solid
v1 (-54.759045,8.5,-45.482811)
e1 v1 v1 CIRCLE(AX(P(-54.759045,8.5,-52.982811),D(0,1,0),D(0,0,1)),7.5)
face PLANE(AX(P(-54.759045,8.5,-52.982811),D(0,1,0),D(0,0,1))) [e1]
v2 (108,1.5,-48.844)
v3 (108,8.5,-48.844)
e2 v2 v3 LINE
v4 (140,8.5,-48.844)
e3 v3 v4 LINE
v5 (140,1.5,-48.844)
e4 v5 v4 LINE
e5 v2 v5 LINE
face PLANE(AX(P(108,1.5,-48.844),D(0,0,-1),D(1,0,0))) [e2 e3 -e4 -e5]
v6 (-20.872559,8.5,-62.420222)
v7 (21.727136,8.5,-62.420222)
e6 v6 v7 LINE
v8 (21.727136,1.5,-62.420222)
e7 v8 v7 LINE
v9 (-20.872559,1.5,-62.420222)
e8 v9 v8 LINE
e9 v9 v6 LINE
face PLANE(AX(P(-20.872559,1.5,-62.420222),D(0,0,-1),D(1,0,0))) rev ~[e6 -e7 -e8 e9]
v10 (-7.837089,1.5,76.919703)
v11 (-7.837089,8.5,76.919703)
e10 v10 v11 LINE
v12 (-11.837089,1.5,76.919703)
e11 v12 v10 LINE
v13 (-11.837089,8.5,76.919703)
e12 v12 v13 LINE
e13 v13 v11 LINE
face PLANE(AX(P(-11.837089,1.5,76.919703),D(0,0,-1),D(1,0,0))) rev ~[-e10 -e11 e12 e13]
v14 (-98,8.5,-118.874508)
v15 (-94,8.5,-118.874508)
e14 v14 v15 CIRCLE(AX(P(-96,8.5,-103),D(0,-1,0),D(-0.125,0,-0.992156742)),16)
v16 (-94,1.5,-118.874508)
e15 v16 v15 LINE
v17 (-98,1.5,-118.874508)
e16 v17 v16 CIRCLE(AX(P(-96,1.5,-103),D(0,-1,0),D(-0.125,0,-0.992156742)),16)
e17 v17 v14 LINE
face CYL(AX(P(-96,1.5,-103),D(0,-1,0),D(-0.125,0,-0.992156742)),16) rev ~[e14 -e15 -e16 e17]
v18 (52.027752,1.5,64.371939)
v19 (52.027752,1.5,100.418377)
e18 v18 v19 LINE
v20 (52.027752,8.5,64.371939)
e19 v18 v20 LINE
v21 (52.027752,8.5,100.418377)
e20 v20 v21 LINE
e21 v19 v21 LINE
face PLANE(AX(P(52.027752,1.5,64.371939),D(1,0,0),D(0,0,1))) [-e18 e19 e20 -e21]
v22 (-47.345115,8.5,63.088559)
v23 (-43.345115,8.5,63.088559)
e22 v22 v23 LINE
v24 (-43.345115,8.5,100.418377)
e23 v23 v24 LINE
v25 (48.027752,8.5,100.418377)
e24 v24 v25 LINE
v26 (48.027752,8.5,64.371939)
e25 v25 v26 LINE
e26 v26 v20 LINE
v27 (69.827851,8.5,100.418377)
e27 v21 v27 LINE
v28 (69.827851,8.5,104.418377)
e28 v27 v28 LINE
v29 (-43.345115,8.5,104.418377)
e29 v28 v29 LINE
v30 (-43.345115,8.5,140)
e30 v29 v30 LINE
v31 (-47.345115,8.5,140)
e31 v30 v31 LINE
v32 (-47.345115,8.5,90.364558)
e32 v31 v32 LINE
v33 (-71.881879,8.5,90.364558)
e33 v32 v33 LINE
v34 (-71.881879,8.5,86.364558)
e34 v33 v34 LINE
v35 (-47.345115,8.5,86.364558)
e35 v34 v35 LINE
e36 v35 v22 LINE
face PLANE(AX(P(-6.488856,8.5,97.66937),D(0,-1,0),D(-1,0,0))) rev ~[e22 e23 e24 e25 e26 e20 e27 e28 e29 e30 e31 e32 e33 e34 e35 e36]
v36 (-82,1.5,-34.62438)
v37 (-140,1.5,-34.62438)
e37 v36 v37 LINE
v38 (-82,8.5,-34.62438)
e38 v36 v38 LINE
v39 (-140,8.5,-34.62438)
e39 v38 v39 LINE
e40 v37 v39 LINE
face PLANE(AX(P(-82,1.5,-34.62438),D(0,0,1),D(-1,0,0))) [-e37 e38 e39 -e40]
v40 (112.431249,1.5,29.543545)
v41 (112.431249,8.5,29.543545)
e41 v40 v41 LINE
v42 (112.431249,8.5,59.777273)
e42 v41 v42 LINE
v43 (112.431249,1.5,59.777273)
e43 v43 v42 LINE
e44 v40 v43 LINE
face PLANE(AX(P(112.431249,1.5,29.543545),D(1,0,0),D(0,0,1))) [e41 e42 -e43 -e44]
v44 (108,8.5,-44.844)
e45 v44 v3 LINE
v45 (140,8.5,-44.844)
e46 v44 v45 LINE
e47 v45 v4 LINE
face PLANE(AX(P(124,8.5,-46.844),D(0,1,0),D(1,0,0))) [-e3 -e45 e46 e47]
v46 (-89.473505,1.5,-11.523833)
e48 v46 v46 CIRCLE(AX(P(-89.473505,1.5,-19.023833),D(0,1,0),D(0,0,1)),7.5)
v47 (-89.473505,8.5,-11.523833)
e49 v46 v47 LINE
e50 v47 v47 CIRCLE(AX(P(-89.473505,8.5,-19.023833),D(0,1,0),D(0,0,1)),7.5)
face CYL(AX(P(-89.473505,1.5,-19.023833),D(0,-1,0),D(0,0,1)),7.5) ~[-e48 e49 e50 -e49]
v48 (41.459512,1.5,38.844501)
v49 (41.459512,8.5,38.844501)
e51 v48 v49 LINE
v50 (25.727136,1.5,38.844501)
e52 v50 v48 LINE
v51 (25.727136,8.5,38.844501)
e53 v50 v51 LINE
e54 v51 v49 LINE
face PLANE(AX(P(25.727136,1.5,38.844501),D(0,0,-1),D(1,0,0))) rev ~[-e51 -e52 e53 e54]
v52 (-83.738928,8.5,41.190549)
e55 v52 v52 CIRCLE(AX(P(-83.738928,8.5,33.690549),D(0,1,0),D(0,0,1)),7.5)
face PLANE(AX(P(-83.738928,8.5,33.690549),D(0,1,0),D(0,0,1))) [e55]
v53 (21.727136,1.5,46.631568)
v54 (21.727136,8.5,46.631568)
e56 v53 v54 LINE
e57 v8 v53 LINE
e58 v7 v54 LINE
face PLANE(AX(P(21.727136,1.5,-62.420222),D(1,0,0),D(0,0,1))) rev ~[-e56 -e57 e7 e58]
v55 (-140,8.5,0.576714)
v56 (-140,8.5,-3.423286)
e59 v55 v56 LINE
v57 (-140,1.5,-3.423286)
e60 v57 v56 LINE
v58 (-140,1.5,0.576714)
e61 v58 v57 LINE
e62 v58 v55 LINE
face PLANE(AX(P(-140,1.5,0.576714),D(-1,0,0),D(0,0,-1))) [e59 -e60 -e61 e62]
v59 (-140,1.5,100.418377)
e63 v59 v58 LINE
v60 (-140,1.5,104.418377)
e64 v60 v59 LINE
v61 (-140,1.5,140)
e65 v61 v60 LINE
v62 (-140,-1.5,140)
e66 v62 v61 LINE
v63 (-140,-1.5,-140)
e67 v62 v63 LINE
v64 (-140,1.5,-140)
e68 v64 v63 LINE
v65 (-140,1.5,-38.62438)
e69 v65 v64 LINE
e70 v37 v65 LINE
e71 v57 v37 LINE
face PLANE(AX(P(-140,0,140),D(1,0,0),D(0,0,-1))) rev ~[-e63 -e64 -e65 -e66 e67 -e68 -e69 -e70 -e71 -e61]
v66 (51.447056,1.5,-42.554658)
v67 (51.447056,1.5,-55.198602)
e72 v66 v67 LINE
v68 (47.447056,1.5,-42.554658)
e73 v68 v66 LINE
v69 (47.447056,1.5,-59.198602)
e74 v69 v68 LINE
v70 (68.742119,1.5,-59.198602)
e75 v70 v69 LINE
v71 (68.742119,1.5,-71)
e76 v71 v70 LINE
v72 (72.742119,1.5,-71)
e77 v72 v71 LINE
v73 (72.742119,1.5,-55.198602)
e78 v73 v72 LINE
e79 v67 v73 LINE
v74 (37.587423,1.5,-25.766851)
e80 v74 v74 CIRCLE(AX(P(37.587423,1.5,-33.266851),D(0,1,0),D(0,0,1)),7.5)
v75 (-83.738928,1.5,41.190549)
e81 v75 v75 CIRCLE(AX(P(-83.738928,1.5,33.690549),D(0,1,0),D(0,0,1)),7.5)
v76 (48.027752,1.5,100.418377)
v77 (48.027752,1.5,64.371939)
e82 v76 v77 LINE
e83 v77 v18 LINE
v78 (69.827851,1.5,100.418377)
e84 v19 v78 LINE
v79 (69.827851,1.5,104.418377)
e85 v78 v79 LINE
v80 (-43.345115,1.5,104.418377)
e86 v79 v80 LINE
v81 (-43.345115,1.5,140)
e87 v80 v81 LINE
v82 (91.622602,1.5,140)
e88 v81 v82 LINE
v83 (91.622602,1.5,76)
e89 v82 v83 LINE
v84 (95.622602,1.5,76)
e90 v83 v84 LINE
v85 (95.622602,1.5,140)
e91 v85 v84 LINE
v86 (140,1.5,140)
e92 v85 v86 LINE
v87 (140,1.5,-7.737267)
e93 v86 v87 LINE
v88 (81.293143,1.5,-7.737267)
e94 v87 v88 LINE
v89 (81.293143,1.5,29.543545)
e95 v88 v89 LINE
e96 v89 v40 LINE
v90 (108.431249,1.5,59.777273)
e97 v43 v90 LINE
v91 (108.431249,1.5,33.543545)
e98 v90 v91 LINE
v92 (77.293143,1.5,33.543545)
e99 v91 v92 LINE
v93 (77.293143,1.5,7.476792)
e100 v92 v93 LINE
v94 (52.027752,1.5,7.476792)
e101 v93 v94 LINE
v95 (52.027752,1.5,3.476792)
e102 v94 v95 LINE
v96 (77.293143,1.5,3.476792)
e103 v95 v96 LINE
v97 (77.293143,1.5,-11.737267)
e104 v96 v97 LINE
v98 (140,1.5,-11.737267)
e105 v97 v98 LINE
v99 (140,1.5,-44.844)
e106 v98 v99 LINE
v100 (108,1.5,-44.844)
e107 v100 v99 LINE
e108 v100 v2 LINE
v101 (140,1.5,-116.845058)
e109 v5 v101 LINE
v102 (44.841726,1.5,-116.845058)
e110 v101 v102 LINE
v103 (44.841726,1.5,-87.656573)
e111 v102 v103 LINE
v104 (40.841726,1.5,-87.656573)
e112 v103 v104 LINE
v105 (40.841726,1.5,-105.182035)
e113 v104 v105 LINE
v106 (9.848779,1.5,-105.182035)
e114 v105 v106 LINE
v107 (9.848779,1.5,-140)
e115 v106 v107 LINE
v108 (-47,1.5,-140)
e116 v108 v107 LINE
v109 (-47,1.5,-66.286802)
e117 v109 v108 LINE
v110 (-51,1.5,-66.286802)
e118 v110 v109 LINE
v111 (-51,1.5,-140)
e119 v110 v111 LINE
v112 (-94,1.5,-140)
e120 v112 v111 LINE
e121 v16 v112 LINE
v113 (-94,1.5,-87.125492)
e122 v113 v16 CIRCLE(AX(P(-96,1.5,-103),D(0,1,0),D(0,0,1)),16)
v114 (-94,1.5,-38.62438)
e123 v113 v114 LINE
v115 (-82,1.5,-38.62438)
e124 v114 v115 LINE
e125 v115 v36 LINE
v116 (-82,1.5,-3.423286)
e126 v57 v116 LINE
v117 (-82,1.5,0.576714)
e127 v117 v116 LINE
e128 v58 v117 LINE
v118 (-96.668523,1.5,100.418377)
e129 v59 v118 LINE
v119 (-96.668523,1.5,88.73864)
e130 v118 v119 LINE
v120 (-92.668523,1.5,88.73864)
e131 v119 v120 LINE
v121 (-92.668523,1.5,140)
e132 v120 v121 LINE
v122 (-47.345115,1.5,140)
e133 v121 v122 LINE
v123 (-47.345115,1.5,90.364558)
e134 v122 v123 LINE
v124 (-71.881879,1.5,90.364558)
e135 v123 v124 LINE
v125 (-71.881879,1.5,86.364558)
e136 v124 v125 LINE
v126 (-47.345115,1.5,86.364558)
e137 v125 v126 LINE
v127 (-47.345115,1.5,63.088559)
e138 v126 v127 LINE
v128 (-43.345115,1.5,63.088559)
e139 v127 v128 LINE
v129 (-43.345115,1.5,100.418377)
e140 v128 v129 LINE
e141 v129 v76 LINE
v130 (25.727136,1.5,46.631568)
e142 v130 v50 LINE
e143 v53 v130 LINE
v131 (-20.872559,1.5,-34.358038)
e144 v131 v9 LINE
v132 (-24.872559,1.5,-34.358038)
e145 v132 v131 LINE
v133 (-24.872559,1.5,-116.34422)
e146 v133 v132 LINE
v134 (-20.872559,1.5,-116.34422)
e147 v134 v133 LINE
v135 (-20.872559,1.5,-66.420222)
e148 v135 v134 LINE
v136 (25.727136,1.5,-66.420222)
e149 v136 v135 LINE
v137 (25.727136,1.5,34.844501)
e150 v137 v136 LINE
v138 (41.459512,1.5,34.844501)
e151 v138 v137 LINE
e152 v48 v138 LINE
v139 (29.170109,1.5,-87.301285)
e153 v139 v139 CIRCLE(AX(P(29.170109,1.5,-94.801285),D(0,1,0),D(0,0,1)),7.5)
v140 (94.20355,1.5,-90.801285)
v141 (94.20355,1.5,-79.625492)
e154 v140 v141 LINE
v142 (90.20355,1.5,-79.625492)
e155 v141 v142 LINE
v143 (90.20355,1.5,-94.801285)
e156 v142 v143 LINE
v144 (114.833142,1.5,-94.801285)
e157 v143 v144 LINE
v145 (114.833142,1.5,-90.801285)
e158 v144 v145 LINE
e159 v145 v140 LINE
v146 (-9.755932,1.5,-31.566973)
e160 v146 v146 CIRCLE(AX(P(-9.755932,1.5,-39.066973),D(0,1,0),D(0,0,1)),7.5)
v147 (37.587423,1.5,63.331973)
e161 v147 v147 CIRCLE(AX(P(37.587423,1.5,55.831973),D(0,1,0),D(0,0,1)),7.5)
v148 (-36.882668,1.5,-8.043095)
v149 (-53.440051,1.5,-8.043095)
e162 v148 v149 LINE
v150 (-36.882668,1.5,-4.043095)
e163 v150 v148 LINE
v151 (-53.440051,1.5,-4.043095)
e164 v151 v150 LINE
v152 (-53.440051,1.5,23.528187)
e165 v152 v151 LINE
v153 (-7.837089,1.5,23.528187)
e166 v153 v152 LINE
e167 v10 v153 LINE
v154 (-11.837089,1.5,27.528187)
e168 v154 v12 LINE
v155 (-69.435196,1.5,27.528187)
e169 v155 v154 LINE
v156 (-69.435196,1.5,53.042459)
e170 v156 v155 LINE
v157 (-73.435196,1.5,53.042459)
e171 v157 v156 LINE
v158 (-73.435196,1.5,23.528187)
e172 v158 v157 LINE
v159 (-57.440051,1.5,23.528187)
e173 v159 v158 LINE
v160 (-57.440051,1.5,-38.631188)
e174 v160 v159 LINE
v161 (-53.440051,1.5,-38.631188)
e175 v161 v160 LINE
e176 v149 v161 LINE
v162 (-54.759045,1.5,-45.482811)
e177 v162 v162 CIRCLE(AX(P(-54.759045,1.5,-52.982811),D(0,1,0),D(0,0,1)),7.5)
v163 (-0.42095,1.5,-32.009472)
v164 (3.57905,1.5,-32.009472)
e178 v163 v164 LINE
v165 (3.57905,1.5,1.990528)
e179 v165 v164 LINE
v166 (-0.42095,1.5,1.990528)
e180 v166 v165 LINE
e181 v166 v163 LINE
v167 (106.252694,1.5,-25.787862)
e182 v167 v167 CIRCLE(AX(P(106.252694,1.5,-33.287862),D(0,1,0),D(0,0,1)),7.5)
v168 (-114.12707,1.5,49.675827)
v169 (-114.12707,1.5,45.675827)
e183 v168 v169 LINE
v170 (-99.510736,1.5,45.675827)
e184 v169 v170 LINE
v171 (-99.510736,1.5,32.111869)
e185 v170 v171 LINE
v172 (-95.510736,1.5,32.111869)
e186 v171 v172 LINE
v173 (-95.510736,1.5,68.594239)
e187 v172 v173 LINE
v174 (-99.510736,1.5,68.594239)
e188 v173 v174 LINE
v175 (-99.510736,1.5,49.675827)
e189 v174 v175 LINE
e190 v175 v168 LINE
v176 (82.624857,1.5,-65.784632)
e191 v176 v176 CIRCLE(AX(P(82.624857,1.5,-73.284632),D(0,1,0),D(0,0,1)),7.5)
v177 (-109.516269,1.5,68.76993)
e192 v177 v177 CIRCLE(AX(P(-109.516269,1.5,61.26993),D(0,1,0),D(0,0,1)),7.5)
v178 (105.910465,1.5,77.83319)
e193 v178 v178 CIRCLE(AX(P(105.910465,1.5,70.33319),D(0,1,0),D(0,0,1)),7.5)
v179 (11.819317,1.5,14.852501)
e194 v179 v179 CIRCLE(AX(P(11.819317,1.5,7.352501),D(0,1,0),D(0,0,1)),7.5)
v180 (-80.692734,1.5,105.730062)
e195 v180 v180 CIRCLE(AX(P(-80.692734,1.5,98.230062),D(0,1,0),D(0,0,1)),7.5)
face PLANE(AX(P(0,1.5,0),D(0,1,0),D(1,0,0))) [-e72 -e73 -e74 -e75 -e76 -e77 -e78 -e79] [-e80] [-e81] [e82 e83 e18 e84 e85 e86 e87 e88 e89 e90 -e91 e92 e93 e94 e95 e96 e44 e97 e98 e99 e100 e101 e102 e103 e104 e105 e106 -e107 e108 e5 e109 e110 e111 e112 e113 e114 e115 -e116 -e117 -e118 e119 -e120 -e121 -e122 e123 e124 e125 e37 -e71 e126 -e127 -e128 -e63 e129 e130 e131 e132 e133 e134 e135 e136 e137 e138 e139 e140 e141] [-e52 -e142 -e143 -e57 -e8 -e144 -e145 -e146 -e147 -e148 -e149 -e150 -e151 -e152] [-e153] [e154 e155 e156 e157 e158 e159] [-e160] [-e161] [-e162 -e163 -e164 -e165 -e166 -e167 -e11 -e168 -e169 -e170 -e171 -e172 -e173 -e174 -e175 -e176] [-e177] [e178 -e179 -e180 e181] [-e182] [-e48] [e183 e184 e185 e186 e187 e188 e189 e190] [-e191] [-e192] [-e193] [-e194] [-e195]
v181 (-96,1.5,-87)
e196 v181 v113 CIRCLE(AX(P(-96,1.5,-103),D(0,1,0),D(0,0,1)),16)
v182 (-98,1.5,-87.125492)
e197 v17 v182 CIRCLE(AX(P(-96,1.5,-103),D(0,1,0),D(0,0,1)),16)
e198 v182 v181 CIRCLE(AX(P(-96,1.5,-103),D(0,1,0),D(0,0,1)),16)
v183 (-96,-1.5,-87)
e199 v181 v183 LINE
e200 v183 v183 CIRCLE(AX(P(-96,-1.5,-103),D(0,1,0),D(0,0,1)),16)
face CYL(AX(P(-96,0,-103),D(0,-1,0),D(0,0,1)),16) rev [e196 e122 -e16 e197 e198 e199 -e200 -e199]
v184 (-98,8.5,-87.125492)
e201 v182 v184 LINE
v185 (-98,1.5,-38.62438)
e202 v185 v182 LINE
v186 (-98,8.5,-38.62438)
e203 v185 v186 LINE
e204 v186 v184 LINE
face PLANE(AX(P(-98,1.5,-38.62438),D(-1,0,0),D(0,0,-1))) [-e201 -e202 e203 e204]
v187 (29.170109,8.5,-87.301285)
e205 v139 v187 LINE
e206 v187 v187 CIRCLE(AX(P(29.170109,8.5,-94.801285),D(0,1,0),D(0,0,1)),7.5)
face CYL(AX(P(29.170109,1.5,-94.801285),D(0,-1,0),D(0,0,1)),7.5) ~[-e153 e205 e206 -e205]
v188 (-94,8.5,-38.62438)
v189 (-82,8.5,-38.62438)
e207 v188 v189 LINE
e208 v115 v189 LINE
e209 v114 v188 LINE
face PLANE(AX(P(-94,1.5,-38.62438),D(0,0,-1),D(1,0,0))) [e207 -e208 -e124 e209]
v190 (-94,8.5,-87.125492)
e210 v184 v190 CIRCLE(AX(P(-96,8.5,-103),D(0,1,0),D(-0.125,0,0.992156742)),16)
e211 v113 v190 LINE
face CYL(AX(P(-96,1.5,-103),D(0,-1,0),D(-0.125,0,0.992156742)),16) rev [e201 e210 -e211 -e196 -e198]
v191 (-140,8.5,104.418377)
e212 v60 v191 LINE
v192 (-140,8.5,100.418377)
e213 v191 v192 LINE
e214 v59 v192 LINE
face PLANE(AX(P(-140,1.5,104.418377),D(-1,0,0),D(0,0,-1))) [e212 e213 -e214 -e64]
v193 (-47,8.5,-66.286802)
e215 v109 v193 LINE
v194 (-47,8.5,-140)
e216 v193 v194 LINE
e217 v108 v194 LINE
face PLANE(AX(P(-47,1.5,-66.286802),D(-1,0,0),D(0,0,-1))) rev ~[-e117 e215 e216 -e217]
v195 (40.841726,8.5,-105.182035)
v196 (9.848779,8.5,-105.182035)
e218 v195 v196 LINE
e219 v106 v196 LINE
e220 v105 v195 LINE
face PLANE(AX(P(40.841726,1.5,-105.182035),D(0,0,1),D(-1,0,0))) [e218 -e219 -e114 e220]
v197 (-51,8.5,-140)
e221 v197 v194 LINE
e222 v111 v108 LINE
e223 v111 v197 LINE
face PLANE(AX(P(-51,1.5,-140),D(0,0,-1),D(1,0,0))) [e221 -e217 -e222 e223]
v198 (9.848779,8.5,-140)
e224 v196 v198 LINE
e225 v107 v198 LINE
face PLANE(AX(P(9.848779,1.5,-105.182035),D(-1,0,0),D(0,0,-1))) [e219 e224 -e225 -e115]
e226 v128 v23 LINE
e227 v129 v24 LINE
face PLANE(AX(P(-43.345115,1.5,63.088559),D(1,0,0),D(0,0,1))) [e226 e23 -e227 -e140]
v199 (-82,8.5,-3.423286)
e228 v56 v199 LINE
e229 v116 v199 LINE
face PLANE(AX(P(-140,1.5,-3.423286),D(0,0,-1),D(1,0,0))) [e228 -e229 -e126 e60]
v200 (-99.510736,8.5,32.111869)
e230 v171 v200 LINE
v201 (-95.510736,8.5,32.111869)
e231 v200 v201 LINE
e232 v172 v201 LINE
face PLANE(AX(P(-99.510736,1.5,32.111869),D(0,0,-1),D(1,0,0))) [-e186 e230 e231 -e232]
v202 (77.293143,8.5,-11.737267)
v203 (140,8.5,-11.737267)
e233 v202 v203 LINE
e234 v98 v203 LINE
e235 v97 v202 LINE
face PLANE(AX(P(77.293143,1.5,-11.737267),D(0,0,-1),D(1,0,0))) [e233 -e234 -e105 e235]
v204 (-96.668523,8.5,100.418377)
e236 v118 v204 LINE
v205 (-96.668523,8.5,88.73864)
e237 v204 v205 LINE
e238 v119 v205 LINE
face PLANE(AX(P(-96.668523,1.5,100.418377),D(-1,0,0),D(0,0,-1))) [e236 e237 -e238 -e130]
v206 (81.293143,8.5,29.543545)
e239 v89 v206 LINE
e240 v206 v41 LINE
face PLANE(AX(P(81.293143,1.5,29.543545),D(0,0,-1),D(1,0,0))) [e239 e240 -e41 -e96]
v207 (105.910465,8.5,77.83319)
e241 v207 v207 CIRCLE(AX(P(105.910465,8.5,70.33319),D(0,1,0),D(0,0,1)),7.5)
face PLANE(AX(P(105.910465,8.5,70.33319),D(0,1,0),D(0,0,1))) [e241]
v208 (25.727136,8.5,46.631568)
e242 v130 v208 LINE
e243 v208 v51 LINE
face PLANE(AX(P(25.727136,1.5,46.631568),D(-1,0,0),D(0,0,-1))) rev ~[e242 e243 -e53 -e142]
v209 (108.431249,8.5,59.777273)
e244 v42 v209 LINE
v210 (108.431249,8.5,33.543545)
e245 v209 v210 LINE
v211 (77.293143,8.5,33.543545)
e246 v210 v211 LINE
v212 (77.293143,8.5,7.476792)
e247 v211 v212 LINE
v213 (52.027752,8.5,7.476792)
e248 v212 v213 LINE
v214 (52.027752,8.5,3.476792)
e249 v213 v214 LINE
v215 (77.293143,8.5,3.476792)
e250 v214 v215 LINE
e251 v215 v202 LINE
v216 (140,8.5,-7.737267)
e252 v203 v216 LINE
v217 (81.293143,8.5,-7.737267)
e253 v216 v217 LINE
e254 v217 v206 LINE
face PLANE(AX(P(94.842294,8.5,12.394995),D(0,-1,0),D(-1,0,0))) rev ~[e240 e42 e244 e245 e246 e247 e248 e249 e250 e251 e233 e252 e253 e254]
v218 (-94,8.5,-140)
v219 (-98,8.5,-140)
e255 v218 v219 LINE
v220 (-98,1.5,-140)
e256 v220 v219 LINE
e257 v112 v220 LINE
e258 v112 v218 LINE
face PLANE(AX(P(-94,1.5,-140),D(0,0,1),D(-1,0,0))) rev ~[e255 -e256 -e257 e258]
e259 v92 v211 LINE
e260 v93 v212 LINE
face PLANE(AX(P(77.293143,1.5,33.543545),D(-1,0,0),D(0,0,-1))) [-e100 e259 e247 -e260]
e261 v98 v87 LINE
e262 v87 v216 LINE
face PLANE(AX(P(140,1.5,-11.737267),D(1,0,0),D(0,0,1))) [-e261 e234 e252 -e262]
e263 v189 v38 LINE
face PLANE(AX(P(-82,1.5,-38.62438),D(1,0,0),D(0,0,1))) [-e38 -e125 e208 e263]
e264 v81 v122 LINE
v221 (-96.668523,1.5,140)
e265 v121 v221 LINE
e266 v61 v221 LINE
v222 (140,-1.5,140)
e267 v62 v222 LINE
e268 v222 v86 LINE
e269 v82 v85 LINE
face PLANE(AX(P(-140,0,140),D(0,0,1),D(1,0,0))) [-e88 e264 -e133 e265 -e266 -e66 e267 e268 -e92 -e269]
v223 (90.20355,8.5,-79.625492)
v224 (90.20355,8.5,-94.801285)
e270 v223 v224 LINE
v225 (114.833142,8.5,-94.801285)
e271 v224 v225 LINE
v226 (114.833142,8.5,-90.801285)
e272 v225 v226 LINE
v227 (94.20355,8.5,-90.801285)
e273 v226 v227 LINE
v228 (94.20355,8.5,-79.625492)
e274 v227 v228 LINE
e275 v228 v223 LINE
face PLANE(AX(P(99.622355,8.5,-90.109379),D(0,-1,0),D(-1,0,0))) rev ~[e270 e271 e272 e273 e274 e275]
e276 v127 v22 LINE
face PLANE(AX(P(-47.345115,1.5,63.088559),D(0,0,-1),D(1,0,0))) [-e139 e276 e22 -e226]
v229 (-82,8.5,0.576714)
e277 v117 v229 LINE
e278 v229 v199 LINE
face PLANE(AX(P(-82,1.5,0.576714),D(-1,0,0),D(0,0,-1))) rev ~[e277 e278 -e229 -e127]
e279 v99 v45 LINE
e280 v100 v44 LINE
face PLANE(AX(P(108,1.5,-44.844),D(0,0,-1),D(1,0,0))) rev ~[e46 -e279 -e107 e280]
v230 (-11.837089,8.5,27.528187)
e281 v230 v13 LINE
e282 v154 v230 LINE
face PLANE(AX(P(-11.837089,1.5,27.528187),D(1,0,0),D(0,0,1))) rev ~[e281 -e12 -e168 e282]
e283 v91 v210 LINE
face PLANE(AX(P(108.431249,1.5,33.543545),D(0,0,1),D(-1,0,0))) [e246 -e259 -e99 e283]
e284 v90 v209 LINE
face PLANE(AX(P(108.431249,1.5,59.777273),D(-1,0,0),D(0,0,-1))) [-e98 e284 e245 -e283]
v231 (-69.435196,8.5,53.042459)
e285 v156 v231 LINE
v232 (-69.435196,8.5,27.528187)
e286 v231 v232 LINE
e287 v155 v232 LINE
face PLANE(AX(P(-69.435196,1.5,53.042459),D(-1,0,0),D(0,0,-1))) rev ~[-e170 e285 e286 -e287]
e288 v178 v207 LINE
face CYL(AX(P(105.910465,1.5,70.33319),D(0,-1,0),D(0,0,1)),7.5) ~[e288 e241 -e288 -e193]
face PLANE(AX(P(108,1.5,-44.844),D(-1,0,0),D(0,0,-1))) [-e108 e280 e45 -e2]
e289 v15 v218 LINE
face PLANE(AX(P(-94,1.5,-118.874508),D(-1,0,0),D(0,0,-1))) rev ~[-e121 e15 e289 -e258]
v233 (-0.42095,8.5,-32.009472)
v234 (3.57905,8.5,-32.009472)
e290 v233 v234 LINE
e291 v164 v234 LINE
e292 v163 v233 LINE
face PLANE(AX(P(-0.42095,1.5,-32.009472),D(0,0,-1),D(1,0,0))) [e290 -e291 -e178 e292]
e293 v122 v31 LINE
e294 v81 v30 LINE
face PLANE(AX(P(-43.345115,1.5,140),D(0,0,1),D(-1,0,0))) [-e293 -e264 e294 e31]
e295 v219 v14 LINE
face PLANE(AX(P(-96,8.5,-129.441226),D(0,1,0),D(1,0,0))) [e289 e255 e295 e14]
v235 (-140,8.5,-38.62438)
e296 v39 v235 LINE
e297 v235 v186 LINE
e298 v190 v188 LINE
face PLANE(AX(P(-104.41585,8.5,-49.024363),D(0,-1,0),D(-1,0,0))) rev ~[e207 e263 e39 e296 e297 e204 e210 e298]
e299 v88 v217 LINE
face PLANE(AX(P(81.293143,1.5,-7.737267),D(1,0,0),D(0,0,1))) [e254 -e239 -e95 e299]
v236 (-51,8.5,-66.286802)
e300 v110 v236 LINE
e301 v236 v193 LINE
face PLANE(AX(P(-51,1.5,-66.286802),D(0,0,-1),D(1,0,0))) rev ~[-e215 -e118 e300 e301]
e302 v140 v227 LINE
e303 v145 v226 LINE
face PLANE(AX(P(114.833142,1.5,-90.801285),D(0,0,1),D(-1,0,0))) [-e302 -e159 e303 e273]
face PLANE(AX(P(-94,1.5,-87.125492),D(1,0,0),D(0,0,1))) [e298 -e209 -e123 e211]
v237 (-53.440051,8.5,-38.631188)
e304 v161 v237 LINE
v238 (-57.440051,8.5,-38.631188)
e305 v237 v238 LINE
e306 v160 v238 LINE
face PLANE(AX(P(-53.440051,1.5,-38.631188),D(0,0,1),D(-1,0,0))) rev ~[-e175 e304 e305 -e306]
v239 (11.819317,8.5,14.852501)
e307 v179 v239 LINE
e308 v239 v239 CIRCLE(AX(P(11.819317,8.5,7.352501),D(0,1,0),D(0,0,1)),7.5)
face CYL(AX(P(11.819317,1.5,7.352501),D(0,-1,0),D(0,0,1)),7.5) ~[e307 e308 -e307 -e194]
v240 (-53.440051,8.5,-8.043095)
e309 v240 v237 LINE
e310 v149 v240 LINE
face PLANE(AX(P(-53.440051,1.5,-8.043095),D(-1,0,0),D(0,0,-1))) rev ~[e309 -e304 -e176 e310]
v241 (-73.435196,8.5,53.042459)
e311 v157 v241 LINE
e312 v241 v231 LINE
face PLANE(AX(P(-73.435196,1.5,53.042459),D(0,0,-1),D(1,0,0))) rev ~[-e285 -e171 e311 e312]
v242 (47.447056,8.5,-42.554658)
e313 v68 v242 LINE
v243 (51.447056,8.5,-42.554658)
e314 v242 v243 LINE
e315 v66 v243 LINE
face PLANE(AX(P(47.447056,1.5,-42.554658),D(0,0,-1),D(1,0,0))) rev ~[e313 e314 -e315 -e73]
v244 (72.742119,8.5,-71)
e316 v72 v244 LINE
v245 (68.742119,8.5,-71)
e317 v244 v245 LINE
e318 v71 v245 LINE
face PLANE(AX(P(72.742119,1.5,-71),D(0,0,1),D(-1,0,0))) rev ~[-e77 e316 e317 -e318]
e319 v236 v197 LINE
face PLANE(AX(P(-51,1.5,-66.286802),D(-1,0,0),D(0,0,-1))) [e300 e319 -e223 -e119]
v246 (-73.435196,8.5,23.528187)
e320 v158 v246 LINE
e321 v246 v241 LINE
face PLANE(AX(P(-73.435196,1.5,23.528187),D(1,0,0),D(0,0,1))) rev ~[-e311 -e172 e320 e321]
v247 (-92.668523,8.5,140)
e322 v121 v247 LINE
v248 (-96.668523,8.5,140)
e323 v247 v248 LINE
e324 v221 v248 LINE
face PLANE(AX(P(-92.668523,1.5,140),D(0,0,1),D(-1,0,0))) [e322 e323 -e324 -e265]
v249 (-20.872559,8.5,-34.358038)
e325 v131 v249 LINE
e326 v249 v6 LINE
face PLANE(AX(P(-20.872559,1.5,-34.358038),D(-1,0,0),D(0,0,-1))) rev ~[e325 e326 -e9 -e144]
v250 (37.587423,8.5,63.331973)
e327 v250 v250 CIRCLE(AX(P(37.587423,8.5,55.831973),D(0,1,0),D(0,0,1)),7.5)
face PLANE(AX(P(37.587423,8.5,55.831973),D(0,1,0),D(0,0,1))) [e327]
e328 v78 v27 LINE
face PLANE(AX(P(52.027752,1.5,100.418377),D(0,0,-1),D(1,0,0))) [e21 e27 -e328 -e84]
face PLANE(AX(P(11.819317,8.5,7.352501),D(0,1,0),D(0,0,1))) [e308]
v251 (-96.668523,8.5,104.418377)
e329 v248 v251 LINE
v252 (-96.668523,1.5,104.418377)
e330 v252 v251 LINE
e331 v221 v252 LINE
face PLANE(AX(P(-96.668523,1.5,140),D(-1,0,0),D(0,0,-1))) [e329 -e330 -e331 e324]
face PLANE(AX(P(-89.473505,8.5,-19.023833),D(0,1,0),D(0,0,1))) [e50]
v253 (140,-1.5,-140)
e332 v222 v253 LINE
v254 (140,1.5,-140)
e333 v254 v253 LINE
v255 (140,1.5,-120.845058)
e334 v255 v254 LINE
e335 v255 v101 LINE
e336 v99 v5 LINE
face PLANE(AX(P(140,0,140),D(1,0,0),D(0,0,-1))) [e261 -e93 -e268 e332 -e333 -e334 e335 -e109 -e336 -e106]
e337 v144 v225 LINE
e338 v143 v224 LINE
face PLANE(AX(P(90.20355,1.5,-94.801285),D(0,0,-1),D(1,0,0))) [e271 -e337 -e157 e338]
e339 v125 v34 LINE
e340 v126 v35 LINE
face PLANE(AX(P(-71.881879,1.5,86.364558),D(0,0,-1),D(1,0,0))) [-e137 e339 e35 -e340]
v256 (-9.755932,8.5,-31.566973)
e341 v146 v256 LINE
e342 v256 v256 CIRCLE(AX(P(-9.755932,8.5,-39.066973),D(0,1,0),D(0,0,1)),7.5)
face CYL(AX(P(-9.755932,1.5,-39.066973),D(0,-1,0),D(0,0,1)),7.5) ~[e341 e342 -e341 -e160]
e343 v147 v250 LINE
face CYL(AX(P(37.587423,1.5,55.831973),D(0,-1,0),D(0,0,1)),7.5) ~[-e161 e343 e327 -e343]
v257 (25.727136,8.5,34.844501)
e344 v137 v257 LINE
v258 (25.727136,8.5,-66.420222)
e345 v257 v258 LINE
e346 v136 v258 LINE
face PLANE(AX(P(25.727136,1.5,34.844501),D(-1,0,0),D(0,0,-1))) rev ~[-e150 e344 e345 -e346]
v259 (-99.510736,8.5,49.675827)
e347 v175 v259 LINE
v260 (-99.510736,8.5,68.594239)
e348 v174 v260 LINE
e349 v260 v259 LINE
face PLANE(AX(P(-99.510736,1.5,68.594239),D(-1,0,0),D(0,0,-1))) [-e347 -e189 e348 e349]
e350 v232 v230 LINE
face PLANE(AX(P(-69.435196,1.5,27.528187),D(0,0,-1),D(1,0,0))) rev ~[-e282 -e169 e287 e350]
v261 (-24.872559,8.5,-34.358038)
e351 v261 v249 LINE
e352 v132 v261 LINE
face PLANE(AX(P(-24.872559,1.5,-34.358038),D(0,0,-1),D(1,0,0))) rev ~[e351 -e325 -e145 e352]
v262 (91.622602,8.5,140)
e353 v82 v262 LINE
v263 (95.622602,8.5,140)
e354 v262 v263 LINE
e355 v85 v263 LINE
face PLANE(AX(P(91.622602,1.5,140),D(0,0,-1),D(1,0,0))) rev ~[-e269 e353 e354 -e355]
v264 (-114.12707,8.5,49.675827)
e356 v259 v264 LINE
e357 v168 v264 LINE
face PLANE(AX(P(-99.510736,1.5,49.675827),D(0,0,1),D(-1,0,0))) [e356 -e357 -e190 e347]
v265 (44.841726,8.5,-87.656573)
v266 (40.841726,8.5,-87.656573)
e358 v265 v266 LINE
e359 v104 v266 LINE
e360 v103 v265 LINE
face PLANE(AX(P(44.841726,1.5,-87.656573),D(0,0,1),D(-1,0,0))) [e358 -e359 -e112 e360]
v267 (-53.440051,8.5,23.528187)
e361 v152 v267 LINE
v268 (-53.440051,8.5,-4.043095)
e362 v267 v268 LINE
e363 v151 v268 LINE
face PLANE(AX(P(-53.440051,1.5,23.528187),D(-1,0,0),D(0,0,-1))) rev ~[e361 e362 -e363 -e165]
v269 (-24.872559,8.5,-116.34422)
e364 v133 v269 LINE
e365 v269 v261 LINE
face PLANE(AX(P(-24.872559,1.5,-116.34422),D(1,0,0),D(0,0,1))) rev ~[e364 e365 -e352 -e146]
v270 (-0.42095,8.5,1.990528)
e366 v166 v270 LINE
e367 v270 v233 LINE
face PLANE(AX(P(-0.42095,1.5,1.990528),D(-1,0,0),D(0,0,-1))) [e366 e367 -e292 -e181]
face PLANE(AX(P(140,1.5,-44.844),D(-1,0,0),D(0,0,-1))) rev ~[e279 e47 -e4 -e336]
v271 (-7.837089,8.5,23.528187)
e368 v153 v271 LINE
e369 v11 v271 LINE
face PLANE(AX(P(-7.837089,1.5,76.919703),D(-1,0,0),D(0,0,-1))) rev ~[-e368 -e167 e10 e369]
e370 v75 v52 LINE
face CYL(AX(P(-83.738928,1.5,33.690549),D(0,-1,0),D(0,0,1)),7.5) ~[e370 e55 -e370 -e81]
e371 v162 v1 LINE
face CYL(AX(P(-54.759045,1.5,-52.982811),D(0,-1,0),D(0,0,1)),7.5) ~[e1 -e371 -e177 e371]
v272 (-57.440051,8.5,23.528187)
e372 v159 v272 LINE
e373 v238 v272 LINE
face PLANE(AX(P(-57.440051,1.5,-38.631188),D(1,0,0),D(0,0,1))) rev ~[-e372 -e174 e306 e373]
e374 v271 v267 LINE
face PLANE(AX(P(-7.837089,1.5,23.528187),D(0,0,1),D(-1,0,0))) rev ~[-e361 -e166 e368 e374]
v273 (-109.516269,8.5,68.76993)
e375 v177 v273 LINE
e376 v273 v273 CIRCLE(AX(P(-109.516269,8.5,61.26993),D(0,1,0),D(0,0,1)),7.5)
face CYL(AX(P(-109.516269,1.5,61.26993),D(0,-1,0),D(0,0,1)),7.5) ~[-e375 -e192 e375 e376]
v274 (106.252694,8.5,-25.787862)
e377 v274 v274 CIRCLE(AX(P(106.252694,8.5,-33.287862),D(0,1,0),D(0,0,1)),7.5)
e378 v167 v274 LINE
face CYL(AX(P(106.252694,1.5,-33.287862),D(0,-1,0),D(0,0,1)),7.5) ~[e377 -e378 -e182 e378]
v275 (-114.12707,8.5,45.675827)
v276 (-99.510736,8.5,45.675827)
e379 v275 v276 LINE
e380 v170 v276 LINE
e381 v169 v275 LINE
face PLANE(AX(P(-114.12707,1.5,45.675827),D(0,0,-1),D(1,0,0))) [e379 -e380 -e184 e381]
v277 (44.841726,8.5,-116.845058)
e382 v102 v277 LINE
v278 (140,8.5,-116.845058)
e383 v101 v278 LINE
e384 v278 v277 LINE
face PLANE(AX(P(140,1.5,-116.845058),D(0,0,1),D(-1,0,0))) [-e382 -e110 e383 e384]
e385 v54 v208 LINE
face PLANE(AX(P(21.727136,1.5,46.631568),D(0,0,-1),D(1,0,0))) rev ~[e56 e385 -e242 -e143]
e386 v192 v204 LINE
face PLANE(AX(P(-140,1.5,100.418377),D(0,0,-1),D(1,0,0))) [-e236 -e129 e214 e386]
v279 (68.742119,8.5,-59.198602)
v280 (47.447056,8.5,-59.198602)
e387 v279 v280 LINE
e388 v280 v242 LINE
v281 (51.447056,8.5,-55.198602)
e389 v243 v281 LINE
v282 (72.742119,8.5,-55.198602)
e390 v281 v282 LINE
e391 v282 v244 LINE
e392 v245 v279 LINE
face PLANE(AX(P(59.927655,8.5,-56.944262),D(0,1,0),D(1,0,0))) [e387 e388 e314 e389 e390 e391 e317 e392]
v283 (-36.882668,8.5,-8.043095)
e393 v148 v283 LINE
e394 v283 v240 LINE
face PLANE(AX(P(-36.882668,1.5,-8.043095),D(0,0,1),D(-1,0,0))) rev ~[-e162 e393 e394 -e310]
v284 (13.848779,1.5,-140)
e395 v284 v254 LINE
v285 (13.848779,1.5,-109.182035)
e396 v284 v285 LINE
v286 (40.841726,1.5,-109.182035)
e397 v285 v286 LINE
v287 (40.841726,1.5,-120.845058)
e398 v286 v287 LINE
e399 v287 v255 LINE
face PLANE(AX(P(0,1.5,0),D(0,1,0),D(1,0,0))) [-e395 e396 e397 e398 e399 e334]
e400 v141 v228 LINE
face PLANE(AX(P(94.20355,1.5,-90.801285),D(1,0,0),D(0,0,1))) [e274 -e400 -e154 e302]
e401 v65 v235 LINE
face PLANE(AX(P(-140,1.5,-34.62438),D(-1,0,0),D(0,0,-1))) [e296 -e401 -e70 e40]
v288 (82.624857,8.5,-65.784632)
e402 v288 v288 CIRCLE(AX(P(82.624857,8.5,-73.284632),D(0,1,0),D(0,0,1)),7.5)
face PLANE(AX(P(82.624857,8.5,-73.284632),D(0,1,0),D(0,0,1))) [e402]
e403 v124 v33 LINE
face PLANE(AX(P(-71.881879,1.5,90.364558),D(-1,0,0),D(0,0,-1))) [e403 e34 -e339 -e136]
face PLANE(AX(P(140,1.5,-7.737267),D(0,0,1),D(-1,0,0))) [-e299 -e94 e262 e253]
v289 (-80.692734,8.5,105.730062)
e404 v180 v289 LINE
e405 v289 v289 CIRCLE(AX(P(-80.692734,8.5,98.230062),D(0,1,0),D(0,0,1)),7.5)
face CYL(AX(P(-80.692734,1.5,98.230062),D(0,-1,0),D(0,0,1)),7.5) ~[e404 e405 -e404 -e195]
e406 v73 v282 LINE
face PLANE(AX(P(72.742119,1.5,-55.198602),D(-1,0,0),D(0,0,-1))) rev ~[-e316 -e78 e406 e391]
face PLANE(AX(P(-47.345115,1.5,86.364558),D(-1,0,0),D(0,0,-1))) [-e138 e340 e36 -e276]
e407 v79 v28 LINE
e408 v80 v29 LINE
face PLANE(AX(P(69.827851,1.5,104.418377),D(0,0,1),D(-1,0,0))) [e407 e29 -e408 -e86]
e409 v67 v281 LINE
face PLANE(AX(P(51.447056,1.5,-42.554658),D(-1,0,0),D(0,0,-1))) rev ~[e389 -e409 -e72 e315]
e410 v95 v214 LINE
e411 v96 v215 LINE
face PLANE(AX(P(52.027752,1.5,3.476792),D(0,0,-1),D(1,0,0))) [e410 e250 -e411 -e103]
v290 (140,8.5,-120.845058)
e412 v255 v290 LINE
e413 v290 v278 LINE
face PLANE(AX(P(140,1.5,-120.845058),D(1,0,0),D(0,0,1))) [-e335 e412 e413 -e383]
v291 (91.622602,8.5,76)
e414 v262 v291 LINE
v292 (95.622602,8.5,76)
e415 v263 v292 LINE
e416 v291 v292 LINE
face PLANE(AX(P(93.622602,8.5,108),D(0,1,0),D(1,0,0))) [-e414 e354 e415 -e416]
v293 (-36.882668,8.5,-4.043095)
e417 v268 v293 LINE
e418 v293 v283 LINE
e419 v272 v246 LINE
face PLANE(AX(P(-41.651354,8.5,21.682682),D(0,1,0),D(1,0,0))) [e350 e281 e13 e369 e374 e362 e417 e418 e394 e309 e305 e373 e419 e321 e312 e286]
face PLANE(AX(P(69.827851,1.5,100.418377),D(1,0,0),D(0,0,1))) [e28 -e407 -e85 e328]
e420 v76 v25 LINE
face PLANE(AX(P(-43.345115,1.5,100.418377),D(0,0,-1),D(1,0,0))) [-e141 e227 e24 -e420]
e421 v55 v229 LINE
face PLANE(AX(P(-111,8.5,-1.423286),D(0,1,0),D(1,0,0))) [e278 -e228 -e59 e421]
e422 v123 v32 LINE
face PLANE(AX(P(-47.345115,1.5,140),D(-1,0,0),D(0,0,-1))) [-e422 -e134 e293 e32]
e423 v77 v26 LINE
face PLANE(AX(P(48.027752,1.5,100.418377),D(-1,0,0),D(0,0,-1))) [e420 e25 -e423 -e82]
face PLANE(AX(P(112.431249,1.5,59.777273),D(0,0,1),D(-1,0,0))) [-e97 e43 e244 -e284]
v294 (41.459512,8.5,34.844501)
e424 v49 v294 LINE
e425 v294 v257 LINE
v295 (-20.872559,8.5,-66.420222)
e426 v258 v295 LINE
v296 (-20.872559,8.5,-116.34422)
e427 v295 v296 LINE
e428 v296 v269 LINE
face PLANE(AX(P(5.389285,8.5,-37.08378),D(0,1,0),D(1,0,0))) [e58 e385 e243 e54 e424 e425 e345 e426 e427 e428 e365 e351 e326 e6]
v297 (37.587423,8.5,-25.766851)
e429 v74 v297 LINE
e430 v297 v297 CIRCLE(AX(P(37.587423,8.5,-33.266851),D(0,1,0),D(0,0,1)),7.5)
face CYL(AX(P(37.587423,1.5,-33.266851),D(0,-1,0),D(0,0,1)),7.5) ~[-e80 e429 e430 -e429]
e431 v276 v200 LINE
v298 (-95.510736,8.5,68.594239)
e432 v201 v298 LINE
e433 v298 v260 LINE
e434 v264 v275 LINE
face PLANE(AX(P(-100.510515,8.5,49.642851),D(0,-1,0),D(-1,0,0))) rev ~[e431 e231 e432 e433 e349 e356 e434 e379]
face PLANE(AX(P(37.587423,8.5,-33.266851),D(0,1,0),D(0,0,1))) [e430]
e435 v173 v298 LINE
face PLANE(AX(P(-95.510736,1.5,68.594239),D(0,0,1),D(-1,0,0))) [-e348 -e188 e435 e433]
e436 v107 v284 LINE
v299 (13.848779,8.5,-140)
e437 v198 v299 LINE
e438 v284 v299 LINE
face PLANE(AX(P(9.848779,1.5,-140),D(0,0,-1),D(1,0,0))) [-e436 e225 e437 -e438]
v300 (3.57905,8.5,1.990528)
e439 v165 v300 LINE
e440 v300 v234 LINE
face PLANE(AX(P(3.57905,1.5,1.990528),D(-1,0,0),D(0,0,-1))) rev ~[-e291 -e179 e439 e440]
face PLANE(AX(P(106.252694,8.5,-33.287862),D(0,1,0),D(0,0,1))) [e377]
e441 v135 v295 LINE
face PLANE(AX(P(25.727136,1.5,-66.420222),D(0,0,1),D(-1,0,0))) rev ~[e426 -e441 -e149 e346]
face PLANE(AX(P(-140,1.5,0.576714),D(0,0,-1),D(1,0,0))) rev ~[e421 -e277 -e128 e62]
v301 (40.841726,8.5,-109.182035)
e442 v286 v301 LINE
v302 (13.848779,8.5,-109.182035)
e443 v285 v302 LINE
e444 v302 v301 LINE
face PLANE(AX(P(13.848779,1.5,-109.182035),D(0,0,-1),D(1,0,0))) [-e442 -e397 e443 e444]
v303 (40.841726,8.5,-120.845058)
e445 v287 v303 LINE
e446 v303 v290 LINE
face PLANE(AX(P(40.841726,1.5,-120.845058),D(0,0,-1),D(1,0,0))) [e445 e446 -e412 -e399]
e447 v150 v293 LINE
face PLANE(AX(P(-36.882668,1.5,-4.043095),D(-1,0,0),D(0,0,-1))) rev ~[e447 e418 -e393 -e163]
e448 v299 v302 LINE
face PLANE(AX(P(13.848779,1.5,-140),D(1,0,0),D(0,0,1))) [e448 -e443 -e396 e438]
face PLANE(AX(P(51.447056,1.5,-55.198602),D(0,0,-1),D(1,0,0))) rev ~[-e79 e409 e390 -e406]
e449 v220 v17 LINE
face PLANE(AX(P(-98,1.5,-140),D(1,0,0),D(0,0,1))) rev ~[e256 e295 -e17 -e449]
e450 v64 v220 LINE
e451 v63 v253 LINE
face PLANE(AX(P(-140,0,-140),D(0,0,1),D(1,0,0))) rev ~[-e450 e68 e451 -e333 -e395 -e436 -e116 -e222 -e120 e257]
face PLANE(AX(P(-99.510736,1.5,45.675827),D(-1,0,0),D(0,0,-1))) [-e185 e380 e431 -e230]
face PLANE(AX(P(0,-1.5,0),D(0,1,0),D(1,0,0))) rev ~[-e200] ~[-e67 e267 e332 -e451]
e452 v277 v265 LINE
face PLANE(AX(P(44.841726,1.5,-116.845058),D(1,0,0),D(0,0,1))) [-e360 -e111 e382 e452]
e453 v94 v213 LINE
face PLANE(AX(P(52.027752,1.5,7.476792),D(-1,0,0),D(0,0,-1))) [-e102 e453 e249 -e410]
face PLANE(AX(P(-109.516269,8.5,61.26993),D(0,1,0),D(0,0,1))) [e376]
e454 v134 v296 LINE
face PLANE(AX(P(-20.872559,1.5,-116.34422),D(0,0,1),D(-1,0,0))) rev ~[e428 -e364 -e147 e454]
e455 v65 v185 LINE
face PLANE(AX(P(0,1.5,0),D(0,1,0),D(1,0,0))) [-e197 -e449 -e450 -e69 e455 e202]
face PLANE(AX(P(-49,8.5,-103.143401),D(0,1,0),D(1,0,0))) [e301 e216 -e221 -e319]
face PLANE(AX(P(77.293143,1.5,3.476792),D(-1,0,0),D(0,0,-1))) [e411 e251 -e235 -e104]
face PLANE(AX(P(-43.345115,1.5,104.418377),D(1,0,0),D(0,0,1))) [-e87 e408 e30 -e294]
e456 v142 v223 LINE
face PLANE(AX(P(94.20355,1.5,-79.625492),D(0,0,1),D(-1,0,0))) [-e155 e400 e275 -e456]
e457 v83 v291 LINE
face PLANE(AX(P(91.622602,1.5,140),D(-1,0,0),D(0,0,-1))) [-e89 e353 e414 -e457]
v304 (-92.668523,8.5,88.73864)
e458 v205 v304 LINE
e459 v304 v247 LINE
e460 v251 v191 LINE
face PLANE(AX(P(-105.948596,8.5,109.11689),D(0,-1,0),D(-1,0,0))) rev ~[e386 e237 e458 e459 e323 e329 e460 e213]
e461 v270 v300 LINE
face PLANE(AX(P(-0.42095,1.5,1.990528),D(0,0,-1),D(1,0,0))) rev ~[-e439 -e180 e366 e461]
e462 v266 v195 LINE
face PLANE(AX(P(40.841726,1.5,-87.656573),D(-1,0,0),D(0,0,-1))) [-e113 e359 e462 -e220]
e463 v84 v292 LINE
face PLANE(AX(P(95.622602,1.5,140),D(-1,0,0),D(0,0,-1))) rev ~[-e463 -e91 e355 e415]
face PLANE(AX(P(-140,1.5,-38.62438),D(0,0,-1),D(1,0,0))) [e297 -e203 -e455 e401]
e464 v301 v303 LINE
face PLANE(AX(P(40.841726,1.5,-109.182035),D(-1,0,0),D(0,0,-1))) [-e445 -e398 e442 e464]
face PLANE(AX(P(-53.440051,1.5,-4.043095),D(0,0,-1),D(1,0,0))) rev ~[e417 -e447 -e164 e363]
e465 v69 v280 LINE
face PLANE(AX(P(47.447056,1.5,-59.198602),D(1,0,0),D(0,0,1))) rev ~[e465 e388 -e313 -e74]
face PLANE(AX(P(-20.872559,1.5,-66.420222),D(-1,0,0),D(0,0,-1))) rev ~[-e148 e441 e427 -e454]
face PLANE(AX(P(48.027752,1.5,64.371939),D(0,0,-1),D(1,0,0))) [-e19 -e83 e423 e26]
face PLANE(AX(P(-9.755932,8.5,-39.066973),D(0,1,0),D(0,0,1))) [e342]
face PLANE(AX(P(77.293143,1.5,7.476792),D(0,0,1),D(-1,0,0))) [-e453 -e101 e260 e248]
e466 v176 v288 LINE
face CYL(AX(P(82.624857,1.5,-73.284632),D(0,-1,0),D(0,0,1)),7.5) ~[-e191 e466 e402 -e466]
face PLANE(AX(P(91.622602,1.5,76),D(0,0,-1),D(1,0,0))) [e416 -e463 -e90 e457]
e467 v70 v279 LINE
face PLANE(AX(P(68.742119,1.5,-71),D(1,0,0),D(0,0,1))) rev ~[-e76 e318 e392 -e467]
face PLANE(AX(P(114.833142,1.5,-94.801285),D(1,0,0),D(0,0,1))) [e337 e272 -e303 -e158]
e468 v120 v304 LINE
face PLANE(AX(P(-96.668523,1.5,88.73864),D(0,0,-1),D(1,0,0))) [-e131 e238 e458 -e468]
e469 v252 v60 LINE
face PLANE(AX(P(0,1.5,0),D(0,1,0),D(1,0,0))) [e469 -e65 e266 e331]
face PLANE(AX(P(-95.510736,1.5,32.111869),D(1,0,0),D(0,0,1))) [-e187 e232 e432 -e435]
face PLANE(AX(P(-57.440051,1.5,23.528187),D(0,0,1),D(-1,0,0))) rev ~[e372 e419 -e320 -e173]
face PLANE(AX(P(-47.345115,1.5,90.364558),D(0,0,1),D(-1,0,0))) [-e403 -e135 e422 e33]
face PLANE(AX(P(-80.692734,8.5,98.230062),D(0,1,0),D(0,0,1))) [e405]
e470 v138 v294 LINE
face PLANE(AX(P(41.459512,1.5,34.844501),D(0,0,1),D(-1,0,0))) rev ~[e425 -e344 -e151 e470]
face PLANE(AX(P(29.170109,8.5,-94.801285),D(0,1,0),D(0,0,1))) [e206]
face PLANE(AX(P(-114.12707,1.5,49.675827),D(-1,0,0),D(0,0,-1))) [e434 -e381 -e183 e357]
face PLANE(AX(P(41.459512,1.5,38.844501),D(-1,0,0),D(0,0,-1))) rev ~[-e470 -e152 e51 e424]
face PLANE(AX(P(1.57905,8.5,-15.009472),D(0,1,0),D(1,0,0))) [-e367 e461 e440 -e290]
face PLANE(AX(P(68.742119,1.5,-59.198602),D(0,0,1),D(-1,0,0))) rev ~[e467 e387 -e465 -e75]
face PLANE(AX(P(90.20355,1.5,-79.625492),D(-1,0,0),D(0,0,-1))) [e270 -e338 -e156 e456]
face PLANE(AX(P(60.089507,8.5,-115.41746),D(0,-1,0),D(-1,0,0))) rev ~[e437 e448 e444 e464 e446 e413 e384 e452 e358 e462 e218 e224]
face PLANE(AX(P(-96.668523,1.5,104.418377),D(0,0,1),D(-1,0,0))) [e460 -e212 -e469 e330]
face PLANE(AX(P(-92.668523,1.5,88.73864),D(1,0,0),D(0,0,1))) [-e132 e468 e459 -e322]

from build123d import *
from build123d.topology import SkipClean

# Parameters (mm, degrees)
SKETCH1_W           = 280
SKETCH1_H           = 280
SKETCH1_R           = 16
BOSS_EXTRUDE1_DEPTH = 1.5
SKETCH2_R           = 7.5
SKETCH2_W           = 4
SKETCH2_H           = 73.713198053
SKETCH2_W_2         = 58
SKETCH2_H_2         = 4
SKETCH2_H_3         = 64
SKETCH2_W_3         = 32
SKETCH2_H_4         = 34
BOSS_EXTRUDE2_DEPTH = 7


with BuildPart() as part:
    # Sketch1 → Boss-Extrude1 (new, symmetric)
    with BuildSketch(Plane(origin=(0, 0, 0), x_dir=(1, 0, 0), z_dir=(0, 1, 0))):
        Rectangle(SKETCH1_W, SKETCH1_H)
        with Locations(Location((-96, 103, 0), (0, 0, 270))):
            Circle(SKETCH1_R, mode=Mode.SUBTRACT)
    extrude(amount=BOSS_EXTRUDE1_DEPTH, both=True)

    # Sketch2 → Boss-Extrude2 (add)
    with SkipClean():  # the faces are left unmerged after this step: merging them gives an invalid solid
        with BuildSketch(Plane(origin=(0, 1.5, 0), x_dir=(1, 0, 0), z_dir=(0, 1, 0))):
            with Locations(Location((-54.759044634, 52.982810669, 0), (0, 0, 270))):
                Circle(SKETCH2_R)
            with Locations(Location((-89.473504534, 19.023832923, 0), (0, 0, 270))):
                Circle(SKETCH2_R)
            with Locations(Location((-83.738928303, -33.690548853, 0), (0, 0, 270))):
                Circle(SKETCH2_R)
            with Locations(Location((-109.516269096, -61.269929812, 0), (0, 0, 270))):
                Circle(SKETCH2_R)
            with Locations(Location((-80.69273369, -98.230062392, 0), (0, 0, 270))):
                Circle(SKETCH2_R)
            with Locations(Location((37.587423323, -55.831973409, 0), (0, 0, 270))):
                Circle(SKETCH2_R)
            with Locations(Location((105.9104653, -70.333190482, 0), (0, 0, 270))):
                Circle(SKETCH2_R)
            with Locations(Location((11.819316554, -7.352500668, 0), (0, 0, 270))):
                Circle(SKETCH2_R)
            with Locations(Location((-9.755931913, 39.066973306, 0), (0, 0, 270))):
                Circle(SKETCH2_R)
            with Locations(Location((29.170109307, 94.80128466, 0), (0, 0, 270))):
                Circle(SKETCH2_R)
            with Locations(Location((82.624857116, 73.284632448, 0), (0, 0, 270))):
                Circle(SKETCH2_R)
            with Locations(Location((37.587423323, 33.266850719, 0), (0, 0, 270))):
                Circle(SKETCH2_R)
            with Locations(Location((106.252694304, 33.287862382, 0), (0, 0, 270))):
                Circle(SKETCH2_R)
            with Locations((-49, 103.143400974)):
                Rectangle(SKETCH2_W, SKETCH2_H)
            with BuildLine():
                Line((-94, 140), (-98, 140))
                Line((-98, 140), (-98, 118.874507866))
                ThreePointArc((-98, 118.874507866), (-96, 119), (-94, 118.874507866))
                Line((-94, 118.874507866), (-94, 140))
            make_face()
            with BuildLine():
                Line((-140, 38.624379655), (-98, 38.624379655))
                Line((-98, 38.624379655), (-98, 87.125492134))
                ThreePointArc((-98, 87.125492134), (-96, 87), (-94, 87.125492134))
                Line((-94, 87.125492134), (-94, 38.624379655))
                Line((-94, 38.624379655), (-82, 38.624379655))
                Line((-82, 38.624379655), (-82, 34.624379655))
                Line((-82, 34.624379655), (-140, 34.624379655))
                Line((-140, 34.624379655), (-140, 38.624379655))
            make_face()
            Polygon((-140, -100.418377476), (-96.668523278, -100.418377476), (-96.668523278, -88.738640334), (-92.668523278, -88.738640334), (-92.668523278, -140), (-96.668523278, -140), (-96.668523278, -104.418377476), (-140, -104.418377476), align=None)
            with Locations((-111, 1.423286191)):
                Rectangle(SKETCH2_W_2, SKETCH2_H_2)
            Polygon((-47.345115434, -140), (-47.345115434, -90.364557891), (-71.881878867, -90.364557891), (-71.881878867, -86.364557891), (-47.345115434, -86.364557891), (-47.345115434, -63.088559208), (-43.345115434, -63.088559208), (-43.345115434, -100.418377476), (48.027751829, -100.418377476), (48.027751829, -64.371939455), (52.027751829, -64.371939455), (52.027751829, -100.418377476), (69.827851451, -100.418377476), (69.827851451, -104.418377476), (-43.345115434, -104.418377476), (-43.345115434, -140), align=None)
            Polygon((140, 7.737266613), (81.293142587, 7.737266613), (81.293142587, -29.543544834), (112.431248518, -29.543544834), (112.431248518, -59.777272974), (108.431248518, -59.777272974), (108.431248518, -33.543544834), (77.293142587, -33.543544834), (77.293142587, -7.47679166), (52.027751829, -7.47679166), (52.027751829, -3.47679166), (77.293142587, -3.47679166), (77.293142587, 11.737266613), (140, 11.737266613), align=None)
            with Locations((93.622601552, -108)):
                Rectangle(SKETCH2_W, SKETCH2_H_3)
            Polygon((-99.510735812, -32.111868954), (-95.510735812, -32.111868954), (-95.510735812, -68.594238703), (-99.510735812, -68.594238703), (-99.510735812, -49.675826938), (-114.127069846, -49.675826938), (-114.127069846, -45.675826938), (-99.510735812, -45.675826938), align=None)
            with Locations((124, 46.843999527)):
                Rectangle(SKETCH2_W_3, SKETCH2_H_2)
            Polygon((-73.435195895, -53.042459291), (-69.435195895, -53.042459291), (-69.435195895, -27.528186601), (-11.837088751, -27.528186601), (-11.837088751, -76.919702569), (-7.837088751, -76.919702569), (-7.837088751, -23.528186601), (-53.440050937, -23.528186601), (-53.440050937, 4.043094912), (-36.882667743, 4.043094912), (-36.882667743, 8.043094912), (-53.440050937, 8.043094912), (-53.440050937, 38.63118777), (-57.440050937, 38.63118777), (-57.440050937, -23.528186601), (-73.435195895, -23.528186601), align=None)
            Polygon((114.833141636, 94.80128466), (114.833141636, 90.80128466), (94.203549623, 90.80128466), (94.203549623, 79.625492134), (90.203549623, 79.625492134), (90.203549623, 94.80128466), align=None)
            with Locations((1.57904958, 15.009472223)):
                Rectangle(SKETCH2_W, SKETCH2_H_4)
            Polygon((68.742119222, 71), (68.742119222, 59.19860167), (47.447056499, 59.19860167), (47.447056499, 42.554658178), (51.447056499, 42.554658178), (51.447056499, 55.19860167), (72.742119222, 55.19860167), (72.742119222, 71), align=None)
            Polygon((21.727135977, -46.6315684), (25.727135977, -46.6315684), (25.727135977, -38.844500644), (41.459511743, -38.844500644), (41.459511743, -34.844500644), (25.727135977, -34.844500644), (25.727135977, 66.420221849), (-20.87255933, 66.420221849), (-20.87255933, 116.344219933), (-24.87255933, 116.344219933), (-24.87255933, 34.358038326), (-20.87255933, 34.358038326), (-20.87255933, 62.420221849), (21.727135977, 62.420221849), align=None)
            Polygon((140, 116.845058218), (44.841725693, 116.845058218), (44.841725693, 87.65657302), (40.841725693, 87.65657302), (40.841725693, 105.182034885), (9.848778982, 105.182034885), (9.848778982, 140), (13.848778982, 140), (13.848778982, 109.182034885), (40.841725693, 109.182034885), (40.841725693, 120.845058218), (140, 120.845058218), align=None)
        extrude(amount=BOSS_EXTRUDE2_DEPTH)


solid = part.part
